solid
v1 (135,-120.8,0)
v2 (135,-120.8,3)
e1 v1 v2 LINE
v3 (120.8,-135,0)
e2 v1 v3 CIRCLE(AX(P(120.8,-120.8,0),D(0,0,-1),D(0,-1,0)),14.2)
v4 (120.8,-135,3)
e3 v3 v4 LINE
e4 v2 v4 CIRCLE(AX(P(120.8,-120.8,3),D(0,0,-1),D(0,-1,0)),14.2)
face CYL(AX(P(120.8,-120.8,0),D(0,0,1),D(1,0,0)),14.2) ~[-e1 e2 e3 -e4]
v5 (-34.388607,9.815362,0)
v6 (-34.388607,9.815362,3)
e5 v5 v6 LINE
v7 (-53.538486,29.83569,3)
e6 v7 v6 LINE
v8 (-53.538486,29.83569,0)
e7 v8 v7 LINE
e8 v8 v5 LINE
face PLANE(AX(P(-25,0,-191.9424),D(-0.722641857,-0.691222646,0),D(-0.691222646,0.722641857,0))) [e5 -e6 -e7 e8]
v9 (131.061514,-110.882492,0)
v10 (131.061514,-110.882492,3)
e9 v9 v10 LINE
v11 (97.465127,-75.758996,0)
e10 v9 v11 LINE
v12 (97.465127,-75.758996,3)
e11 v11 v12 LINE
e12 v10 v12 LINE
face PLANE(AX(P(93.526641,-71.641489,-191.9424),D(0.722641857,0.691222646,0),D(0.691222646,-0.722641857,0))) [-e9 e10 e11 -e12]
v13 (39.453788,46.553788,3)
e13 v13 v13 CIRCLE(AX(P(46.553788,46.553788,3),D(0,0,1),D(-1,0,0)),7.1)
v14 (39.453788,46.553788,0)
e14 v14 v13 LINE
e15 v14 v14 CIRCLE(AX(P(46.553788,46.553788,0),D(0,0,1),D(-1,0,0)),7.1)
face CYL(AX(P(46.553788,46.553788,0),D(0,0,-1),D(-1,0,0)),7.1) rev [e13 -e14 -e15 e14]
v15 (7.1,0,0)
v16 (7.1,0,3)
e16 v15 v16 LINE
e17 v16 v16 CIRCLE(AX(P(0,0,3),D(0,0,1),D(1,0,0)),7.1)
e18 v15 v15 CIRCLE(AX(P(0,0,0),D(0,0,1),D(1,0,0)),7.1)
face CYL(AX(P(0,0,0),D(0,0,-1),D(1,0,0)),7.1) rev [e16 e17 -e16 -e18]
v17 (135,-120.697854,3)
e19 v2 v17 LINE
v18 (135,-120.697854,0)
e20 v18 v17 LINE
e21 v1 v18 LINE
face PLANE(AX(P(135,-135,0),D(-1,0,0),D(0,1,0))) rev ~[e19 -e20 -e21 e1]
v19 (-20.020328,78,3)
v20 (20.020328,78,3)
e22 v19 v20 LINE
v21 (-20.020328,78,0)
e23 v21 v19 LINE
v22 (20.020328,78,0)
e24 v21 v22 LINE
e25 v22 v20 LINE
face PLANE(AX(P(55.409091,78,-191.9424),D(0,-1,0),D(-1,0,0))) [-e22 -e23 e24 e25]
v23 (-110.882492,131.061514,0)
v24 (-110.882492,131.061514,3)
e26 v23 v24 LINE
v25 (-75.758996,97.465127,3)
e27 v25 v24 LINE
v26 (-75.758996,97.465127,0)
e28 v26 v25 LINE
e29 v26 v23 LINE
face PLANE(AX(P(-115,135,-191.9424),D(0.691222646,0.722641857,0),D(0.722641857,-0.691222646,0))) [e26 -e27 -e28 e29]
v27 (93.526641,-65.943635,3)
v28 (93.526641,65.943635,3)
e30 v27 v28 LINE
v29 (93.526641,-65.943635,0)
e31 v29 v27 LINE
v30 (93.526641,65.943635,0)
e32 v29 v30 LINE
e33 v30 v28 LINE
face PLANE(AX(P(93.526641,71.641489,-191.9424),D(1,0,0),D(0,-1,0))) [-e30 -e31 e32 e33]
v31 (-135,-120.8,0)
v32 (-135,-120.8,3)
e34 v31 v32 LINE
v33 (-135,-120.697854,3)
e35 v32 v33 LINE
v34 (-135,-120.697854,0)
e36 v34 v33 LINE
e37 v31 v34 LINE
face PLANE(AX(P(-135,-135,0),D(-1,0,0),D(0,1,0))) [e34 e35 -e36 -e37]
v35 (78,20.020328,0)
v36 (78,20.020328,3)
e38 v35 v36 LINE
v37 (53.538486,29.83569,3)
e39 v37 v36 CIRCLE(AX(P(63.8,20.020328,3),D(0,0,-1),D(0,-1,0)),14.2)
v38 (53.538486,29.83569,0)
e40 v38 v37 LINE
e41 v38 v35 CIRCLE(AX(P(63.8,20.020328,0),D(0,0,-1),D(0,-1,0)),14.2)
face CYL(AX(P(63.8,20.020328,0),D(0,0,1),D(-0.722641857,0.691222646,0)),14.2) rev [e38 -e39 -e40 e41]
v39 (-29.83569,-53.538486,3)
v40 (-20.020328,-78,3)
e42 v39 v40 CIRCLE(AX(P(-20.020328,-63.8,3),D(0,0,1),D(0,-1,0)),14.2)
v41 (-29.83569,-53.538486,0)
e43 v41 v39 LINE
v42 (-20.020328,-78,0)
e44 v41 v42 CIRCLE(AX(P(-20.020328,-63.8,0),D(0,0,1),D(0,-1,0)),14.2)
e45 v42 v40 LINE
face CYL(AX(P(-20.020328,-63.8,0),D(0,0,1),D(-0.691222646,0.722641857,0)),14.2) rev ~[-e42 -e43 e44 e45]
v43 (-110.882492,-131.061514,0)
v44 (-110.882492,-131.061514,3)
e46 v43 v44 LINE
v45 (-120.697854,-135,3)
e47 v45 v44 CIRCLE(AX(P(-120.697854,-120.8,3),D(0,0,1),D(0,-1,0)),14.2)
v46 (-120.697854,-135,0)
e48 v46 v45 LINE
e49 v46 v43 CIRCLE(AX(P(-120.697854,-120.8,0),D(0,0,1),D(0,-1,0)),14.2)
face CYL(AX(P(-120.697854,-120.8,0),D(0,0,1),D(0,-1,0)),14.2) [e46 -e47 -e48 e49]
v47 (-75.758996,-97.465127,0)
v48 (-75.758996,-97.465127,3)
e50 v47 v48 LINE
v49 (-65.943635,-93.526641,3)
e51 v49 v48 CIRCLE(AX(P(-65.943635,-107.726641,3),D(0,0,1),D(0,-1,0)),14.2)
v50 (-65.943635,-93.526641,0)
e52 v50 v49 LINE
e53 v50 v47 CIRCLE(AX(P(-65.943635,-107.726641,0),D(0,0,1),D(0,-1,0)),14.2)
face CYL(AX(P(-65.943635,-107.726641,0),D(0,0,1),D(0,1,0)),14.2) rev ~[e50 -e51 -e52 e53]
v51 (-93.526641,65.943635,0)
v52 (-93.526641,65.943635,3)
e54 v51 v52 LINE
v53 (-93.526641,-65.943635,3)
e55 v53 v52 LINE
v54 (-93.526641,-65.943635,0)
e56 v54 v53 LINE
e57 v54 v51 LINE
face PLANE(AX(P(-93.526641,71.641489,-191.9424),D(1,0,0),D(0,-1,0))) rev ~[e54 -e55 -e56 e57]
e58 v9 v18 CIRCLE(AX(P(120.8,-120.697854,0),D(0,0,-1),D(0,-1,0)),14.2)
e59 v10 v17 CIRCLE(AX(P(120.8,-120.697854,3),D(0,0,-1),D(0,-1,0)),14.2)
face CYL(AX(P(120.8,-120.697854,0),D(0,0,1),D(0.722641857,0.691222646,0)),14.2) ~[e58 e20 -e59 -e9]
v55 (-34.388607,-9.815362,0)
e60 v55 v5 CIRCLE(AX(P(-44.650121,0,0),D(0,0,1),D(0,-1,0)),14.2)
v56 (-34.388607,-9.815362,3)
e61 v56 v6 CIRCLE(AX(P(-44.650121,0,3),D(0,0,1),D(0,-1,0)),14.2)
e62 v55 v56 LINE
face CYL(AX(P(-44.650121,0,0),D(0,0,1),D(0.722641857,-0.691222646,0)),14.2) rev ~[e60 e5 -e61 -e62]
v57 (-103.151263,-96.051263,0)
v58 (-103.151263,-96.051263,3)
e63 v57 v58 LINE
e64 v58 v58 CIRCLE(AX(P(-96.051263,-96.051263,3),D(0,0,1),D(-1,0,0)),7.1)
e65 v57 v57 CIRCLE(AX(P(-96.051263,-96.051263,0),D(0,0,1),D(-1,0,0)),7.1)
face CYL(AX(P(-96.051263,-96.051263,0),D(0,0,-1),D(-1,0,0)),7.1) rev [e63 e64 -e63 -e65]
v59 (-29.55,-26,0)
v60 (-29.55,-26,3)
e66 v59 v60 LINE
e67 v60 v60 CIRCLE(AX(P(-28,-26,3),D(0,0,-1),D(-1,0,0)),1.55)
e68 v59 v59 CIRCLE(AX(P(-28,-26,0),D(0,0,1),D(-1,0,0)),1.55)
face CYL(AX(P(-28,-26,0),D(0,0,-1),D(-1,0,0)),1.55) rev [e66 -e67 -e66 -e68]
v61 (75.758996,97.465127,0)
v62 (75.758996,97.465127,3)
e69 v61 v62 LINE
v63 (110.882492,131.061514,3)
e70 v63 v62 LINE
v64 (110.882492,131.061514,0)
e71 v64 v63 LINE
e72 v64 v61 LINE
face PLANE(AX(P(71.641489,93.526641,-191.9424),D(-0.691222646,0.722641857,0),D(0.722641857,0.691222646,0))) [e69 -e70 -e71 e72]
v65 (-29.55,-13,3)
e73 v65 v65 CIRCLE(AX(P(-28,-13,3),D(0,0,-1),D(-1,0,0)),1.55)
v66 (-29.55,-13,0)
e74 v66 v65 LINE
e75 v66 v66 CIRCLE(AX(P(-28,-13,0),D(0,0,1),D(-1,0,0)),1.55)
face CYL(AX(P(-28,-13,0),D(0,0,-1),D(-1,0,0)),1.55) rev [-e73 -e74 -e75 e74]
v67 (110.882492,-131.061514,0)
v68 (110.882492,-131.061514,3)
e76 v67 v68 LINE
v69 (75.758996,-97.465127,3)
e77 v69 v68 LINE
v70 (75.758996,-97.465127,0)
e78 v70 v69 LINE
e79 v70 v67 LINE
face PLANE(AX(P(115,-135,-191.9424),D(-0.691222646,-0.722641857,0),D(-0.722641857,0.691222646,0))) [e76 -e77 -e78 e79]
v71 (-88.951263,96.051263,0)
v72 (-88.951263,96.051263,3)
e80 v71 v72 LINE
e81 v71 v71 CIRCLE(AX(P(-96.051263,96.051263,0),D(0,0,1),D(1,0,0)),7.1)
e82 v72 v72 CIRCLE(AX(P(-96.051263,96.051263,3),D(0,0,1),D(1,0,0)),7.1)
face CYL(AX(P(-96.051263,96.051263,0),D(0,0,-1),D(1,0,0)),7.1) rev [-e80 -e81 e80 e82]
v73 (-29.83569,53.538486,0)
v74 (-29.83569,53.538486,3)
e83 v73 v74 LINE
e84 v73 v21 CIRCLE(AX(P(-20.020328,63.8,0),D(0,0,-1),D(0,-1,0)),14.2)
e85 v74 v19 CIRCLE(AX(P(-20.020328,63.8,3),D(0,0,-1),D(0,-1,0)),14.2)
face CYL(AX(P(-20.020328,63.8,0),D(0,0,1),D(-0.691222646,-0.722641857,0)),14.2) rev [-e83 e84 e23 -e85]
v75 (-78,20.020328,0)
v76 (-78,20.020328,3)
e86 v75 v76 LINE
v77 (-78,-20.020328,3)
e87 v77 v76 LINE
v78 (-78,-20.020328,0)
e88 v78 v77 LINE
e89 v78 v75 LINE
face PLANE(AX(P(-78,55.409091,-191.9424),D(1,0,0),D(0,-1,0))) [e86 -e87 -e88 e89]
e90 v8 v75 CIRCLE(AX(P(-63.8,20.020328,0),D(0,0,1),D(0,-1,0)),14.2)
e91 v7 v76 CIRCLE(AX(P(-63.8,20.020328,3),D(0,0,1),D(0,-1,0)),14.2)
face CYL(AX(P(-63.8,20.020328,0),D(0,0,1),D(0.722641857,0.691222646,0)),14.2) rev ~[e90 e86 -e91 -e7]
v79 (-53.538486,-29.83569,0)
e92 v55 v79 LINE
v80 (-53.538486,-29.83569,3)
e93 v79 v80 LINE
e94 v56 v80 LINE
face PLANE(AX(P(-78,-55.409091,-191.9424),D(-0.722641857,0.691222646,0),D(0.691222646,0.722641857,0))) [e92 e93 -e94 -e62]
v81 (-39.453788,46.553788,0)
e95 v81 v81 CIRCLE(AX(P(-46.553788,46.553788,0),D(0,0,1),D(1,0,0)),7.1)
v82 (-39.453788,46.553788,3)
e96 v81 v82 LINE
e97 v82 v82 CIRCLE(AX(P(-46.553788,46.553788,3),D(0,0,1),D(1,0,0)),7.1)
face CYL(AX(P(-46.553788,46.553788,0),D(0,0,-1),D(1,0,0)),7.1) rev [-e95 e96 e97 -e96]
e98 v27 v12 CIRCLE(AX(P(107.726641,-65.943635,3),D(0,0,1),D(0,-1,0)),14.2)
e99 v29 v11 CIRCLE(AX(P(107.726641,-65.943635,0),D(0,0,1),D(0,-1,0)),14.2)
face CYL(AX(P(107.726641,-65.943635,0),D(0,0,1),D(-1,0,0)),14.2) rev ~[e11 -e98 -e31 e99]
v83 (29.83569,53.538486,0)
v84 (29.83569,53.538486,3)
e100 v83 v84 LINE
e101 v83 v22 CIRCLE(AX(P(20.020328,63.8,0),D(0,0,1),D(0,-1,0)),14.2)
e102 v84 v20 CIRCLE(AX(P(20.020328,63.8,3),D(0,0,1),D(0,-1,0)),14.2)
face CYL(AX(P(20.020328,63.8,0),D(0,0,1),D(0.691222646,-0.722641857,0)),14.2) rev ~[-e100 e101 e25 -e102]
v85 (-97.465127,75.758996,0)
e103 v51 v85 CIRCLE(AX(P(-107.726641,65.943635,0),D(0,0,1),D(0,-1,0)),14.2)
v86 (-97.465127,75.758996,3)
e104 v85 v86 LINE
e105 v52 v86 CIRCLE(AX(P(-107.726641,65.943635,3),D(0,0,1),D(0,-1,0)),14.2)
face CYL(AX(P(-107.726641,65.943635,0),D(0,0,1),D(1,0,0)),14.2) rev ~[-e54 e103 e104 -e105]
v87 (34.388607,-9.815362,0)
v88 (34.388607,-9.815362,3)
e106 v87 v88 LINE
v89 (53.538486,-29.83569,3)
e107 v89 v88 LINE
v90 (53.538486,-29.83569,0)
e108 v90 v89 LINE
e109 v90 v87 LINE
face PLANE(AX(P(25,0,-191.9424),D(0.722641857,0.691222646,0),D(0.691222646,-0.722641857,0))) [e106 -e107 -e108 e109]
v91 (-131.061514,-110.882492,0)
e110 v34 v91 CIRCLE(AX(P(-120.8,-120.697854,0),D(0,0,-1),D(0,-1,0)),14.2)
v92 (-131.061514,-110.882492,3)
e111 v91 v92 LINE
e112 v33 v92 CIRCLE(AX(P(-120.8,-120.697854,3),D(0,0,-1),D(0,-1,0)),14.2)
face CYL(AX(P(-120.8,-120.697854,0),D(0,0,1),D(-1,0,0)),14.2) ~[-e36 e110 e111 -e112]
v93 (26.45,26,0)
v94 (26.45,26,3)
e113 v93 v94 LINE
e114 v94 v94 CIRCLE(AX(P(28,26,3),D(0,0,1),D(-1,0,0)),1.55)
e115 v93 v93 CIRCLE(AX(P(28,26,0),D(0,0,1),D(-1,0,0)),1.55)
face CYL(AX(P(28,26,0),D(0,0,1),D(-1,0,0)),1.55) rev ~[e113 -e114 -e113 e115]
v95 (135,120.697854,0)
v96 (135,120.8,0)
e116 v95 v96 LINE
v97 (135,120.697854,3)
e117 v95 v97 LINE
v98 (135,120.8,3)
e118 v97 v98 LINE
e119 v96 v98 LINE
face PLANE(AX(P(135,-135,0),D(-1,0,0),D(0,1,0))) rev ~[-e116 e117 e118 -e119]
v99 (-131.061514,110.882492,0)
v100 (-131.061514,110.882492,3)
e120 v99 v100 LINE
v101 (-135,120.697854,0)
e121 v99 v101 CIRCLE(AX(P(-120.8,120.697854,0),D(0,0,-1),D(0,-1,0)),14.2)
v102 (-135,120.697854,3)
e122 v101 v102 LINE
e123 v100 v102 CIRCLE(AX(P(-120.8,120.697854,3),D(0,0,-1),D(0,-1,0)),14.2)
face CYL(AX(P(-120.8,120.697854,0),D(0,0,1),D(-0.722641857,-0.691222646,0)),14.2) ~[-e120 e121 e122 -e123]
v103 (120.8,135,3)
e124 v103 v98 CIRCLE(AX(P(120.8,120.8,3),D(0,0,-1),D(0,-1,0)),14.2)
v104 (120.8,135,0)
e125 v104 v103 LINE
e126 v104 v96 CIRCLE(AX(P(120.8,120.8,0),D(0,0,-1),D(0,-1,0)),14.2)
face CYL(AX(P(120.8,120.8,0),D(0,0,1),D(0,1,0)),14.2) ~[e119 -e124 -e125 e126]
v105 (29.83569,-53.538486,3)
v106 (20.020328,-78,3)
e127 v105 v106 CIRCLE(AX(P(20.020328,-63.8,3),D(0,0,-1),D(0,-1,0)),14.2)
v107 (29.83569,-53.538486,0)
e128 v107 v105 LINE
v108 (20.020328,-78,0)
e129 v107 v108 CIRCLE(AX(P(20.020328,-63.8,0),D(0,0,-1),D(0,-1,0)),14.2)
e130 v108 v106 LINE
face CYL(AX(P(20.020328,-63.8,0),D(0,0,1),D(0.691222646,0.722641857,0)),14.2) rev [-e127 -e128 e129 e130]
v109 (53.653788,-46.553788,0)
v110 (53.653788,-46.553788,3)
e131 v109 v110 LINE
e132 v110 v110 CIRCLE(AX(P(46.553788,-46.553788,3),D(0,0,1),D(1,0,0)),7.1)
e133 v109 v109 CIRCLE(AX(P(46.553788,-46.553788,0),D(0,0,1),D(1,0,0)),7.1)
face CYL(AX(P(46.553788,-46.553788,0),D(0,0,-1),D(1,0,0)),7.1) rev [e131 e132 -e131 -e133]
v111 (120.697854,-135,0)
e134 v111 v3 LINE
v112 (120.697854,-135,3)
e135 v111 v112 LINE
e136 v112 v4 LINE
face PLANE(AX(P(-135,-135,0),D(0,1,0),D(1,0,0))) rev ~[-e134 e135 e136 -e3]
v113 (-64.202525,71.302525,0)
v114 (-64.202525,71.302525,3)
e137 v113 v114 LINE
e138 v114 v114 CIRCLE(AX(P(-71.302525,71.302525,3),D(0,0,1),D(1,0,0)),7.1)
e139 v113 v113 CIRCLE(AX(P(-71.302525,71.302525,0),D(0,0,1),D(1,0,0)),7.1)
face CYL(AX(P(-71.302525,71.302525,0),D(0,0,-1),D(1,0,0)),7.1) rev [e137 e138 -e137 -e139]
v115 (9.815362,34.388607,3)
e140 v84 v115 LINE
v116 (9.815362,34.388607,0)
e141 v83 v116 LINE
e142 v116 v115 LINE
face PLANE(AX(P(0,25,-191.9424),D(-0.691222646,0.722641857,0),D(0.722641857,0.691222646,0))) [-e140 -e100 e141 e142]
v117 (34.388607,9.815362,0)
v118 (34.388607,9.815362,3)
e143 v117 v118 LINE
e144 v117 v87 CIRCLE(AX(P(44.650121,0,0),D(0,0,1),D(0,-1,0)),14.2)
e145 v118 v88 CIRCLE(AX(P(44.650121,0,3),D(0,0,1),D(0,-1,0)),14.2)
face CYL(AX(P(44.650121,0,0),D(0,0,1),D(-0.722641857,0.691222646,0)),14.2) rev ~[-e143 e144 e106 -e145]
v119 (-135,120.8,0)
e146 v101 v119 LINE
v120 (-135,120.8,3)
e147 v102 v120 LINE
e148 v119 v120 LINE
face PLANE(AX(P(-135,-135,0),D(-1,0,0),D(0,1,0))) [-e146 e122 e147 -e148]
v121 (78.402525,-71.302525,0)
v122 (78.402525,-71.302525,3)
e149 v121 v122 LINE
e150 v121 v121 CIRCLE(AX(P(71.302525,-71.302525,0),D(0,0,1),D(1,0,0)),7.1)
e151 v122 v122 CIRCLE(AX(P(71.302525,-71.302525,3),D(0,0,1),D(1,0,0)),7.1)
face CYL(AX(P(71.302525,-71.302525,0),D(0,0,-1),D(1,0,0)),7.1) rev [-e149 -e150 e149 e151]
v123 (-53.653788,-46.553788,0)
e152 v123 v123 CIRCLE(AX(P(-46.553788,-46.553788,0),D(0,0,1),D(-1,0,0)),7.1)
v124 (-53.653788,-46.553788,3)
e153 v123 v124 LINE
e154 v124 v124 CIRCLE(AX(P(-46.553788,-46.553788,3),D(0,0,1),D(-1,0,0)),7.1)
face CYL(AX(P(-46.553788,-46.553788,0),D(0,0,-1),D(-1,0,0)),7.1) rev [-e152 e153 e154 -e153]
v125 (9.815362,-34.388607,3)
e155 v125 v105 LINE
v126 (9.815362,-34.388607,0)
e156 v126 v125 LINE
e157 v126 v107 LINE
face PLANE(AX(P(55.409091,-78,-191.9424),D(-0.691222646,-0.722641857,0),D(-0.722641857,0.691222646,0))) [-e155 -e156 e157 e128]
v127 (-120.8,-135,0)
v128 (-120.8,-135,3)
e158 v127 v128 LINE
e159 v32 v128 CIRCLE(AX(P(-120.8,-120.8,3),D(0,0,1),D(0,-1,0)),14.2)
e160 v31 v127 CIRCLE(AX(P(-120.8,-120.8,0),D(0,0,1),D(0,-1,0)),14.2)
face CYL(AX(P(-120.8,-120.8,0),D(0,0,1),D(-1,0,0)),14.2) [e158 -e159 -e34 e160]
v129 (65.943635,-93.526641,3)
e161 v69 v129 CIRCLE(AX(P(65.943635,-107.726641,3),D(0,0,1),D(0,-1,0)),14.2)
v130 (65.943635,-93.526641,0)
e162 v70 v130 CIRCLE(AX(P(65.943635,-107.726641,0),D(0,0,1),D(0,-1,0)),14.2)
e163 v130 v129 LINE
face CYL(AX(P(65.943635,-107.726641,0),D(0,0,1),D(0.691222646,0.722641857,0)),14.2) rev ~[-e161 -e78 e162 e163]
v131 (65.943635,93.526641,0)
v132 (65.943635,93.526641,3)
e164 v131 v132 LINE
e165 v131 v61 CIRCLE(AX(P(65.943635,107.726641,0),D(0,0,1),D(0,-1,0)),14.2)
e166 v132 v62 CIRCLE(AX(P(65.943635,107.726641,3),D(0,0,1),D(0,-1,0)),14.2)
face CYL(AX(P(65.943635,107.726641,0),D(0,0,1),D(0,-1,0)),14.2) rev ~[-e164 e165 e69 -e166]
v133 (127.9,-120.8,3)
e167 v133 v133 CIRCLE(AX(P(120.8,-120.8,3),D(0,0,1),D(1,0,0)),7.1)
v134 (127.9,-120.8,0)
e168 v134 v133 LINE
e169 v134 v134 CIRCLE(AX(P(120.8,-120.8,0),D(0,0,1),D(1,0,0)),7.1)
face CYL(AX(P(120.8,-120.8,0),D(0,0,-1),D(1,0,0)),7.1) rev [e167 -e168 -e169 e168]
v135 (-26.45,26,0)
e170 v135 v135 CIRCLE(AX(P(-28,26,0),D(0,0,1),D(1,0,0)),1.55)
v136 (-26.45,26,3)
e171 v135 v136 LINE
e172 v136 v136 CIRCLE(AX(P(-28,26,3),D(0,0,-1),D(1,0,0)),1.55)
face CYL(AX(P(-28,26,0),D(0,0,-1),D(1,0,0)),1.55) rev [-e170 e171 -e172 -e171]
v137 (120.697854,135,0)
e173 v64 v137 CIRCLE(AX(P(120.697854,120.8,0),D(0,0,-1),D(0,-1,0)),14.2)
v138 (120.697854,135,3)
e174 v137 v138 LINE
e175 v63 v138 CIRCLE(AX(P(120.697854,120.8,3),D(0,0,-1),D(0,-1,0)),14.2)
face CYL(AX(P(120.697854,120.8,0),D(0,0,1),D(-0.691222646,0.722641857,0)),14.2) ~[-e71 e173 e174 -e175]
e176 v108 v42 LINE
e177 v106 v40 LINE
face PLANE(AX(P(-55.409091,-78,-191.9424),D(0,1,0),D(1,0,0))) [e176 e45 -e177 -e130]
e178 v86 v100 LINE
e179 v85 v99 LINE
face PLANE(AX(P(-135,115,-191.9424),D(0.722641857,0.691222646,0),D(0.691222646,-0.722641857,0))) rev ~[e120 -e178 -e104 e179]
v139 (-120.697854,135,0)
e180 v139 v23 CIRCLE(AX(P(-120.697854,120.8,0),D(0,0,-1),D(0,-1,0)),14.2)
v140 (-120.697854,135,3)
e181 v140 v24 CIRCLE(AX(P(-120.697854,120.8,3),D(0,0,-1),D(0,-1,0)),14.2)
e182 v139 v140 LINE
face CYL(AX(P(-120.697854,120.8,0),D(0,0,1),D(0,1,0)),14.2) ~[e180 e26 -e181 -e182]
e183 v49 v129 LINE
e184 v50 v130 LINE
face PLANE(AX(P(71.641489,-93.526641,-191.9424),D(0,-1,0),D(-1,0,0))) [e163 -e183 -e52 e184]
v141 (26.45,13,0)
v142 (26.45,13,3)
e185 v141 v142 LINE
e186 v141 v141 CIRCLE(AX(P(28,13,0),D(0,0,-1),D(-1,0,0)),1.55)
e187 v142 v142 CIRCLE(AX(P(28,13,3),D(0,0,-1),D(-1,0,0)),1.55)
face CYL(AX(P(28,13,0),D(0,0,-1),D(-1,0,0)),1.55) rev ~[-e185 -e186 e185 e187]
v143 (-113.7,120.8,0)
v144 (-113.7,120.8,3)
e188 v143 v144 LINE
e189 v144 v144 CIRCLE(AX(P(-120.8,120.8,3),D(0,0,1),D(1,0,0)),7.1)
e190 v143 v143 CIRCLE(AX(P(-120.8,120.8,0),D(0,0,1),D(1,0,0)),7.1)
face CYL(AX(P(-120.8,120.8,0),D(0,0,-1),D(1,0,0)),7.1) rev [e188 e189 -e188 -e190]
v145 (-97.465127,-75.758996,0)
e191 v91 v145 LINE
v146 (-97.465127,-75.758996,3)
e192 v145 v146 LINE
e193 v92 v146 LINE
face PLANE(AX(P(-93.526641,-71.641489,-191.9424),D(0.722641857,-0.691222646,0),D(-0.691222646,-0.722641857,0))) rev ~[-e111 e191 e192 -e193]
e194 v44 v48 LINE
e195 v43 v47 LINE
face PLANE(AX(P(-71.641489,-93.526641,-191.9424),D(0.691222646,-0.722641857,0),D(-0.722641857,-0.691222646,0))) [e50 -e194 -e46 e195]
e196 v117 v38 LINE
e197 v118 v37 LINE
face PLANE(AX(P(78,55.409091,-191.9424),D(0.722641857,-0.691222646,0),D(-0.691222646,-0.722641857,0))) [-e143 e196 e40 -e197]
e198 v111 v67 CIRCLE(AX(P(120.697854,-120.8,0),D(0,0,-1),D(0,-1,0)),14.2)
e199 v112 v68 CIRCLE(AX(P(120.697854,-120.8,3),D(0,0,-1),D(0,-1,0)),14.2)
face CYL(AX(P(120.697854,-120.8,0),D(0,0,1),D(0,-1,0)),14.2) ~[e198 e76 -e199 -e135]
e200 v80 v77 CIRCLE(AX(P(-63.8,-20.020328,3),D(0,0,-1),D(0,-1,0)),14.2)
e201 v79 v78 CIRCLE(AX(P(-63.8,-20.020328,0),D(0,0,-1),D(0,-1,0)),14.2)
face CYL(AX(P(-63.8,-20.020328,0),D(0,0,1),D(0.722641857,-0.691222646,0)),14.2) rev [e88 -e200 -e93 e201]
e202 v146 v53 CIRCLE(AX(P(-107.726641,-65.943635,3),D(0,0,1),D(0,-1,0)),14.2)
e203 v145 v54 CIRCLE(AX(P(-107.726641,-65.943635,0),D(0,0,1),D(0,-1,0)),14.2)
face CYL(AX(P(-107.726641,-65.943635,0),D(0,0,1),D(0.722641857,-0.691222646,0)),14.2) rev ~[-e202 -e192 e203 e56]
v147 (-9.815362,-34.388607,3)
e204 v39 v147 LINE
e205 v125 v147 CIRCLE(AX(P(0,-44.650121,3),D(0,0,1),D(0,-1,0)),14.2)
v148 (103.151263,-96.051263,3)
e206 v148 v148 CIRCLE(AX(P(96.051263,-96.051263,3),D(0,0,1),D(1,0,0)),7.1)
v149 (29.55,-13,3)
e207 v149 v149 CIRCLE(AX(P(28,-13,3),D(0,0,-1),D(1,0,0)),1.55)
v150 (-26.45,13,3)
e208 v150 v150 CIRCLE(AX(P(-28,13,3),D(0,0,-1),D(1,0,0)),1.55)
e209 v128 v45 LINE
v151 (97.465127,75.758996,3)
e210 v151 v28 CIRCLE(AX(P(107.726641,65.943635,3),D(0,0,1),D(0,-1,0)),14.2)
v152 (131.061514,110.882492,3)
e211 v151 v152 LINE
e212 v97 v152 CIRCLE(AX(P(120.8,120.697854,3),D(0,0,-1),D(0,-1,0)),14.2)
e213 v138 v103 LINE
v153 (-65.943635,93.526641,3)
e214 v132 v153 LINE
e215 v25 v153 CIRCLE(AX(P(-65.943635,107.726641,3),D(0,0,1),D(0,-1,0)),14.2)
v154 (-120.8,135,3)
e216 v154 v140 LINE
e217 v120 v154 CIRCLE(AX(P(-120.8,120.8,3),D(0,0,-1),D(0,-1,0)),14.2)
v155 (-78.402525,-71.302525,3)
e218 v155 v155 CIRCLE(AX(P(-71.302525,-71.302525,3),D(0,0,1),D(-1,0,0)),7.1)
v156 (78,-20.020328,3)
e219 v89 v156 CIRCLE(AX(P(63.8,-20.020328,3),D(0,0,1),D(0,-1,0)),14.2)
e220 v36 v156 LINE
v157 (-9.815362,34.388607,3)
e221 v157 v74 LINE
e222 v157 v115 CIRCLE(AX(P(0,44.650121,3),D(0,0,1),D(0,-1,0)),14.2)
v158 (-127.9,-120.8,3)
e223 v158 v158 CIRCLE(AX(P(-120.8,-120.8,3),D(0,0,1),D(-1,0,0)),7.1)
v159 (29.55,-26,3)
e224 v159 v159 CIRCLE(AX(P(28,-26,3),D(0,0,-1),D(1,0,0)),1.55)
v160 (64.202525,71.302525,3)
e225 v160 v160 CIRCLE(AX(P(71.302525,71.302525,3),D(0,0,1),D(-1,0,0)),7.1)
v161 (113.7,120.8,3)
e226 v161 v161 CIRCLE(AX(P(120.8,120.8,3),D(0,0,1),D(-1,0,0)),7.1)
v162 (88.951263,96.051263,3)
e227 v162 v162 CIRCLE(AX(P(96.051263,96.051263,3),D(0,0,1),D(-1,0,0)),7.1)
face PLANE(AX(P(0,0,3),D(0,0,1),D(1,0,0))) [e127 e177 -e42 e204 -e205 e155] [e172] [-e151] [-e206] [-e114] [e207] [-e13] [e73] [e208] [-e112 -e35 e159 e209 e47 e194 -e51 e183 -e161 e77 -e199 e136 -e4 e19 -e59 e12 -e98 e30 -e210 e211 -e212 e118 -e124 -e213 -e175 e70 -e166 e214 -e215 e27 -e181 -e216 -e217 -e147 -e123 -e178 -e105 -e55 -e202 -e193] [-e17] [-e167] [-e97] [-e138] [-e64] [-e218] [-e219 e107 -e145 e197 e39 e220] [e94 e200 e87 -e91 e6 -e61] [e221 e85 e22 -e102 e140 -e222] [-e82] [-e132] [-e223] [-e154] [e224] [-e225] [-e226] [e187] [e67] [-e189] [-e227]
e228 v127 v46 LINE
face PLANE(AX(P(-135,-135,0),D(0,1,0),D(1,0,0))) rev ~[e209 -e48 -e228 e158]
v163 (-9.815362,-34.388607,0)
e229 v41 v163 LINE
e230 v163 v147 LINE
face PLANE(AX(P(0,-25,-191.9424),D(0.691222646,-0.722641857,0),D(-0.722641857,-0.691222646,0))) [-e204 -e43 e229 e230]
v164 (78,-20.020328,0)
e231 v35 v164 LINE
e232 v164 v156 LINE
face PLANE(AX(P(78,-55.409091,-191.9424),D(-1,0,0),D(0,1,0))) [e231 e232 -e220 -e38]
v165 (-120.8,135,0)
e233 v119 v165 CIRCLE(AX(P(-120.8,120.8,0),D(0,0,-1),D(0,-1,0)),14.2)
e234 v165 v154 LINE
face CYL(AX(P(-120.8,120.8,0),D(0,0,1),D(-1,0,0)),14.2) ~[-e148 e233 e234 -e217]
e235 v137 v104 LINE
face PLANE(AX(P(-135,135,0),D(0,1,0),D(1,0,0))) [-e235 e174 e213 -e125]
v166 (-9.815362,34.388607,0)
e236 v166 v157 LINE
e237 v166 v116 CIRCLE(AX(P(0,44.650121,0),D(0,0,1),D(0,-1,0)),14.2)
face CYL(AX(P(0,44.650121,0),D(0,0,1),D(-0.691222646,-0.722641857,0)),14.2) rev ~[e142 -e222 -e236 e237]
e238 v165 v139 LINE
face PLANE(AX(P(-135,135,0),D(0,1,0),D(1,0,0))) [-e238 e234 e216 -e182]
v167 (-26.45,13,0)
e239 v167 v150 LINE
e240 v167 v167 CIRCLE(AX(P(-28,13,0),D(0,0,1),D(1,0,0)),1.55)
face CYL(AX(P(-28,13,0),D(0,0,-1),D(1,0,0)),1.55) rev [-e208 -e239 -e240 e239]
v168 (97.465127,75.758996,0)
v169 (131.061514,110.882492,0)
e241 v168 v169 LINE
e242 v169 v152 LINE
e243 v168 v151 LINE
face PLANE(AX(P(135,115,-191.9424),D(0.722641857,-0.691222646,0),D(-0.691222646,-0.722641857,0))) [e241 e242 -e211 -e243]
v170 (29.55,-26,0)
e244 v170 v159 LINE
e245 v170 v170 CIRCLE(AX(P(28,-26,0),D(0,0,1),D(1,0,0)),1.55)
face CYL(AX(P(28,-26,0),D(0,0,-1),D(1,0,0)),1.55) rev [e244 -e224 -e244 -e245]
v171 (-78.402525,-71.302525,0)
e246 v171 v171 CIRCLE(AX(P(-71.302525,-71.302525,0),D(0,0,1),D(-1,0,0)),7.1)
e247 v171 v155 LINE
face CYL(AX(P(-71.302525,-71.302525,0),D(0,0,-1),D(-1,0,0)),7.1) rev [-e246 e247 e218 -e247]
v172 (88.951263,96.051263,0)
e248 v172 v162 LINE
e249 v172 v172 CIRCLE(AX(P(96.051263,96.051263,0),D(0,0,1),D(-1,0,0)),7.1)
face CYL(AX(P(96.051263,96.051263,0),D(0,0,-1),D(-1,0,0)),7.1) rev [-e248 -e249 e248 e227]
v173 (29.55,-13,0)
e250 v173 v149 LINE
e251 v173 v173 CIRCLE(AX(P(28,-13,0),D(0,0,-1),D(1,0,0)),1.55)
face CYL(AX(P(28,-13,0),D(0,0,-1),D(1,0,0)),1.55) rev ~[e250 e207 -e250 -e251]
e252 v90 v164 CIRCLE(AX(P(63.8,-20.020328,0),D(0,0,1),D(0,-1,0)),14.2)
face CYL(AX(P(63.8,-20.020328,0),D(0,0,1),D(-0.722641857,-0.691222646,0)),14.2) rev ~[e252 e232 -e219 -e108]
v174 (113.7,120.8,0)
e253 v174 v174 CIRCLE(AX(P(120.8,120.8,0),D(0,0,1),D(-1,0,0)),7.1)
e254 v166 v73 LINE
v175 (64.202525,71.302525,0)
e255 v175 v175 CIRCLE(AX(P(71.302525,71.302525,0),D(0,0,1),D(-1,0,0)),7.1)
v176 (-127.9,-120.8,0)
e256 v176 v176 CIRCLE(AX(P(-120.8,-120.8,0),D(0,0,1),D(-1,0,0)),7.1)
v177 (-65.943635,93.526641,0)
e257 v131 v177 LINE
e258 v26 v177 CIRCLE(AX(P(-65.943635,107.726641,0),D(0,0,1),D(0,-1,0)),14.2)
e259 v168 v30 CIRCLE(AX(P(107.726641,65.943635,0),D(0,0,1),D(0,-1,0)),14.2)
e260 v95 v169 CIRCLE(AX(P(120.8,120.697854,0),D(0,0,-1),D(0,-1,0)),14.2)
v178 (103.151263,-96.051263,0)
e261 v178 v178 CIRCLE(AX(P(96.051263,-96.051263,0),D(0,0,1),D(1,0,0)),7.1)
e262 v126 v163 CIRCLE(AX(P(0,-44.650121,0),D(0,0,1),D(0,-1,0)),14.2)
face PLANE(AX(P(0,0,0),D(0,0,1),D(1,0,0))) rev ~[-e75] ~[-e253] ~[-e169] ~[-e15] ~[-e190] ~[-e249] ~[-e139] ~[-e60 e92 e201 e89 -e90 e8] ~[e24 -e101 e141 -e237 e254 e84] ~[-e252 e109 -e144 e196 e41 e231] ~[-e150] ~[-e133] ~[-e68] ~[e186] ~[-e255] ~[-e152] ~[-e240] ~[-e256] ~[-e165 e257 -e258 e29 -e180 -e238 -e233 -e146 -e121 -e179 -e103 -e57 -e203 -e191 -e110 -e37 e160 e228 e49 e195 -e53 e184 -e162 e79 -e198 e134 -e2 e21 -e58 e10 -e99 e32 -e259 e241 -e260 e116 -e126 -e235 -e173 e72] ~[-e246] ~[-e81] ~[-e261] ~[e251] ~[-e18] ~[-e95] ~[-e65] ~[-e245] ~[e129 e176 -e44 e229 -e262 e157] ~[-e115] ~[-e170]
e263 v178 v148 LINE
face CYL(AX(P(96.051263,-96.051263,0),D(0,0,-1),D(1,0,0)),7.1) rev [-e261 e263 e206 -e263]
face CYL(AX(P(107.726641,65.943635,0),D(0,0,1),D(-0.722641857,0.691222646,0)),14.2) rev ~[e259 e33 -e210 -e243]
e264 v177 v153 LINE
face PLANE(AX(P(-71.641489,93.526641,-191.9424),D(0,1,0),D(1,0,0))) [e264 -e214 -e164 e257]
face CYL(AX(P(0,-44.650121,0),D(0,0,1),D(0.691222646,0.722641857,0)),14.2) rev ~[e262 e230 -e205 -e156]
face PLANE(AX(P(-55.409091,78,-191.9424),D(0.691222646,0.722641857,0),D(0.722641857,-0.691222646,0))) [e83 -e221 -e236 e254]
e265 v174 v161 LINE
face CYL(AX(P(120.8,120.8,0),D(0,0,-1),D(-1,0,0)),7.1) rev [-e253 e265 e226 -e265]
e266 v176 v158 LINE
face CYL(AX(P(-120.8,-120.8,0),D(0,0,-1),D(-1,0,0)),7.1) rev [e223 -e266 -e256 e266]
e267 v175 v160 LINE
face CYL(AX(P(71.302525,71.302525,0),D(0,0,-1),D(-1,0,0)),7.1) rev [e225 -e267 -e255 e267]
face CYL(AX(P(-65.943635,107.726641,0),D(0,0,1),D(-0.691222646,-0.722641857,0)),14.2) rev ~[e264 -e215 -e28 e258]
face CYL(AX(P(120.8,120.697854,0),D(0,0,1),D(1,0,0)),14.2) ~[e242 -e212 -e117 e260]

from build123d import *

# Parameters (mm, degrees)
SKETCH1_W               = 270
SKETCH1_H               = 270
SKETCH1_R               = 7.1
BOSS_EXTRUDE1_DEPTH     = 3
SKETCH2_R               = 1.55
CUT_EXTRUDE1_DEPTH      = 191.942399692
CUT_EXTRUDE2_DEPTH      = 191.942399692
CUT_EXTRUDE2_DEPTH_BACK = 191.942399692
FILLET1_R               = 14.2


with BuildPart() as part:
    # Sketch1 → Boss-Extrude1 (new body)
    with BuildSketch(Plane.XY):
        Rectangle(SKETCH1_W, SKETCH1_H)
        Circle(SKETCH1_R, mode=Mode.SUBTRACT)
        with Locations((-120.8, 120.8)):
            Circle(SKETCH1_R, mode=Mode.SUBTRACT)
        with Locations(Location((-120.8, -120.8, 0), (0, 0, 180))):
            Circle(SKETCH1_R, mode=Mode.SUBTRACT)
        with Locations((120.8, -120.8)):
            Circle(SKETCH1_R, mode=Mode.SUBTRACT)
        with Locations(Location((120.8, 120.8, 0), (0, 0, 180))):
            Circle(SKETCH1_R, mode=Mode.SUBTRACT)
        with Locations((-96.051262658, 96.051262658)):
            Circle(SKETCH1_R, mode=Mode.SUBTRACT)
        with Locations((-71.302525317, 71.302525317)):
            Circle(SKETCH1_R, mode=Mode.SUBTRACT)
        with Locations((-46.553787975, 46.553787975)):
            Circle(SKETCH1_R, mode=Mode.SUBTRACT)
        with Locations(Location((46.553787975, 46.553787975, 0), (0, 0, 180))):
            Circle(SKETCH1_R, mode=Mode.SUBTRACT)
        with Locations(Location((71.302525317, 71.302525317, 0), (0, 0, 180))):
            Circle(SKETCH1_R, mode=Mode.SUBTRACT)
        with Locations(Location((96.051262658, 96.051262658, 0), (0, 0, 180))):
            Circle(SKETCH1_R, mode=Mode.SUBTRACT)
        with Locations((96.051262658, -96.051262658)):
            Circle(SKETCH1_R, mode=Mode.SUBTRACT)
        with Locations((71.302525317, -71.302525317)):
            Circle(SKETCH1_R, mode=Mode.SUBTRACT)
        with Locations((46.553787975, -46.553787975)):
            Circle(SKETCH1_R, mode=Mode.SUBTRACT)
        with Locations(Location((-46.553787975, -46.553787975, 0), (0, 0, 180))):
            Circle(SKETCH1_R, mode=Mode.SUBTRACT)
        with Locations(Location((-71.302525317, -71.302525317, 0), (0, 0, 180))):
            Circle(SKETCH1_R, mode=Mode.SUBTRACT)
        with Locations(Location((-96.051262658, -96.051262658, 0), (0, 0, 180))):
            Circle(SKETCH1_R, mode=Mode.SUBTRACT)
    extrude(amount=BOSS_EXTRUDE1_DEPTH)

    # Sketch2 → Cut-Extrude1 (cut, symmetric)
    with BuildSketch(Plane.XY):
        with Locations((-28, 13)):
            Circle(SKETCH2_R)
        with Locations(Location((-28, -13, 0), (0, 0, 180))):
            Circle(SKETCH2_R)
        with Locations((-28, 26)):
            Circle(SKETCH2_R)
        with Locations(Location((-28, -26, 0), (0, 0, 180))):
            Circle(SKETCH2_R)
        with Locations((28, -26)):
            Circle(SKETCH2_R)
        with Locations(Location((28, 26, 0), (0, 0, 180))):
            Circle(SKETCH2_R)
    cut_extrude1 = extrude(amount=CUT_EXTRUDE1_DEPTH, both=True, mode=Mode.SUBTRACT)

    # Mirror1: Cut-Extrude1 across plane
    add(cut_extrude1.mirror(Plane(origin=(0, 0, 0), x_dir=(0, 0, 1), z_dir=(1, 0, 0))), mode=Mode.SUBTRACT)

    # Sketch4 → Cut-Extrude2 (cut, two sides: drawn at the far end of the back side and taken through both)
    with BuildSketch(Plane.XY.offset(-CUT_EXTRUDE2_DEPTH_BACK)):
        Polygon((-135, 115), (-93.526641242, 71.641488571), (-93.526641242, -71.641488571), (-135, -115), align=None)
        Polygon((115, 135), (-115, 135), (-71.641488571, 93.526641242), (71.641488571, 93.526641242), align=None)
        Polygon((135, -115), (135, 115), (93.526641242, 71.641488571), (93.526641242, -71.641488571), align=None)
        Polygon((115, -135), (71.641488571, -93.526641242), (-71.641488571, -93.526641242), (-115, -135), align=None)
        Polygon((-78, 55.409090909), (-78, -55.409090909), (-25, 0), align=None)
        Polygon((55.409090909, 78), (-55.409090909, 78), (0, 25), align=None)
        Polygon((78, -55.409090909), (78, 55.409090909), (25, 0), align=None)
        Polygon((-55.409090909, -78), (55.409090909, -78), (0, -25), align=None)
    extrude(amount=CUT_EXTRUDE2_DEPTH + CUT_EXTRUDE2_DEPTH_BACK, mode=Mode.SUBTRACT)

    # Fillet1
    fillet1_edges = [part.edges().sort_by_distance(p)[0] for p in [
        (93.526641242, 71.641488571, 1.5),
        (135, -115, 1.5),
        (135, 115, 1.5),
        (93.526641242, -71.641488571, 1.5),
        (0, 25, 1.5),
        (55.409090909, 78, 1.5),
        (-55.409090909, 78, 1.5),
        (-71.641488571, 93.526641242, 1.5),
        (115, 135, 1.5),
        (-115, 135, 1.5),
        (71.641488571, 93.526641242, 1.5),
        (-78, -55.409090909, 1.5),
        (-25, 0, 1.5),
        (-78, 55.409090909, 1.5),
        (0, -25, 1.5),
        (-55.409090909, -78, 1.5),
        (55.409090909, -78, 1.5),
        (-115, -135, 1.5),
        (71.641488571, -93.526641242, 1.5),
        (115, -135, 1.5),
        (-71.641488571, -93.526641242, 1.5),
        (25, 0, 1.5),
        (78, -55.409090909, 1.5),
        (78, 55.409090909, 1.5),
        (-135, 115, 1.5),
        (-93.526641242, -71.641488571, 1.5),
        (-135, -115, 1.5),
        (-93.526641242, 71.641488571, 1.5),
        (135, -135, 1.5),
        (-135, -135, 1.5),
        (-135, 135, 1.5),
        (135, 135, 1.5),
    ]]
    fillet(fillet1_edges, radius=FILLET1_R)


solid = part.part
